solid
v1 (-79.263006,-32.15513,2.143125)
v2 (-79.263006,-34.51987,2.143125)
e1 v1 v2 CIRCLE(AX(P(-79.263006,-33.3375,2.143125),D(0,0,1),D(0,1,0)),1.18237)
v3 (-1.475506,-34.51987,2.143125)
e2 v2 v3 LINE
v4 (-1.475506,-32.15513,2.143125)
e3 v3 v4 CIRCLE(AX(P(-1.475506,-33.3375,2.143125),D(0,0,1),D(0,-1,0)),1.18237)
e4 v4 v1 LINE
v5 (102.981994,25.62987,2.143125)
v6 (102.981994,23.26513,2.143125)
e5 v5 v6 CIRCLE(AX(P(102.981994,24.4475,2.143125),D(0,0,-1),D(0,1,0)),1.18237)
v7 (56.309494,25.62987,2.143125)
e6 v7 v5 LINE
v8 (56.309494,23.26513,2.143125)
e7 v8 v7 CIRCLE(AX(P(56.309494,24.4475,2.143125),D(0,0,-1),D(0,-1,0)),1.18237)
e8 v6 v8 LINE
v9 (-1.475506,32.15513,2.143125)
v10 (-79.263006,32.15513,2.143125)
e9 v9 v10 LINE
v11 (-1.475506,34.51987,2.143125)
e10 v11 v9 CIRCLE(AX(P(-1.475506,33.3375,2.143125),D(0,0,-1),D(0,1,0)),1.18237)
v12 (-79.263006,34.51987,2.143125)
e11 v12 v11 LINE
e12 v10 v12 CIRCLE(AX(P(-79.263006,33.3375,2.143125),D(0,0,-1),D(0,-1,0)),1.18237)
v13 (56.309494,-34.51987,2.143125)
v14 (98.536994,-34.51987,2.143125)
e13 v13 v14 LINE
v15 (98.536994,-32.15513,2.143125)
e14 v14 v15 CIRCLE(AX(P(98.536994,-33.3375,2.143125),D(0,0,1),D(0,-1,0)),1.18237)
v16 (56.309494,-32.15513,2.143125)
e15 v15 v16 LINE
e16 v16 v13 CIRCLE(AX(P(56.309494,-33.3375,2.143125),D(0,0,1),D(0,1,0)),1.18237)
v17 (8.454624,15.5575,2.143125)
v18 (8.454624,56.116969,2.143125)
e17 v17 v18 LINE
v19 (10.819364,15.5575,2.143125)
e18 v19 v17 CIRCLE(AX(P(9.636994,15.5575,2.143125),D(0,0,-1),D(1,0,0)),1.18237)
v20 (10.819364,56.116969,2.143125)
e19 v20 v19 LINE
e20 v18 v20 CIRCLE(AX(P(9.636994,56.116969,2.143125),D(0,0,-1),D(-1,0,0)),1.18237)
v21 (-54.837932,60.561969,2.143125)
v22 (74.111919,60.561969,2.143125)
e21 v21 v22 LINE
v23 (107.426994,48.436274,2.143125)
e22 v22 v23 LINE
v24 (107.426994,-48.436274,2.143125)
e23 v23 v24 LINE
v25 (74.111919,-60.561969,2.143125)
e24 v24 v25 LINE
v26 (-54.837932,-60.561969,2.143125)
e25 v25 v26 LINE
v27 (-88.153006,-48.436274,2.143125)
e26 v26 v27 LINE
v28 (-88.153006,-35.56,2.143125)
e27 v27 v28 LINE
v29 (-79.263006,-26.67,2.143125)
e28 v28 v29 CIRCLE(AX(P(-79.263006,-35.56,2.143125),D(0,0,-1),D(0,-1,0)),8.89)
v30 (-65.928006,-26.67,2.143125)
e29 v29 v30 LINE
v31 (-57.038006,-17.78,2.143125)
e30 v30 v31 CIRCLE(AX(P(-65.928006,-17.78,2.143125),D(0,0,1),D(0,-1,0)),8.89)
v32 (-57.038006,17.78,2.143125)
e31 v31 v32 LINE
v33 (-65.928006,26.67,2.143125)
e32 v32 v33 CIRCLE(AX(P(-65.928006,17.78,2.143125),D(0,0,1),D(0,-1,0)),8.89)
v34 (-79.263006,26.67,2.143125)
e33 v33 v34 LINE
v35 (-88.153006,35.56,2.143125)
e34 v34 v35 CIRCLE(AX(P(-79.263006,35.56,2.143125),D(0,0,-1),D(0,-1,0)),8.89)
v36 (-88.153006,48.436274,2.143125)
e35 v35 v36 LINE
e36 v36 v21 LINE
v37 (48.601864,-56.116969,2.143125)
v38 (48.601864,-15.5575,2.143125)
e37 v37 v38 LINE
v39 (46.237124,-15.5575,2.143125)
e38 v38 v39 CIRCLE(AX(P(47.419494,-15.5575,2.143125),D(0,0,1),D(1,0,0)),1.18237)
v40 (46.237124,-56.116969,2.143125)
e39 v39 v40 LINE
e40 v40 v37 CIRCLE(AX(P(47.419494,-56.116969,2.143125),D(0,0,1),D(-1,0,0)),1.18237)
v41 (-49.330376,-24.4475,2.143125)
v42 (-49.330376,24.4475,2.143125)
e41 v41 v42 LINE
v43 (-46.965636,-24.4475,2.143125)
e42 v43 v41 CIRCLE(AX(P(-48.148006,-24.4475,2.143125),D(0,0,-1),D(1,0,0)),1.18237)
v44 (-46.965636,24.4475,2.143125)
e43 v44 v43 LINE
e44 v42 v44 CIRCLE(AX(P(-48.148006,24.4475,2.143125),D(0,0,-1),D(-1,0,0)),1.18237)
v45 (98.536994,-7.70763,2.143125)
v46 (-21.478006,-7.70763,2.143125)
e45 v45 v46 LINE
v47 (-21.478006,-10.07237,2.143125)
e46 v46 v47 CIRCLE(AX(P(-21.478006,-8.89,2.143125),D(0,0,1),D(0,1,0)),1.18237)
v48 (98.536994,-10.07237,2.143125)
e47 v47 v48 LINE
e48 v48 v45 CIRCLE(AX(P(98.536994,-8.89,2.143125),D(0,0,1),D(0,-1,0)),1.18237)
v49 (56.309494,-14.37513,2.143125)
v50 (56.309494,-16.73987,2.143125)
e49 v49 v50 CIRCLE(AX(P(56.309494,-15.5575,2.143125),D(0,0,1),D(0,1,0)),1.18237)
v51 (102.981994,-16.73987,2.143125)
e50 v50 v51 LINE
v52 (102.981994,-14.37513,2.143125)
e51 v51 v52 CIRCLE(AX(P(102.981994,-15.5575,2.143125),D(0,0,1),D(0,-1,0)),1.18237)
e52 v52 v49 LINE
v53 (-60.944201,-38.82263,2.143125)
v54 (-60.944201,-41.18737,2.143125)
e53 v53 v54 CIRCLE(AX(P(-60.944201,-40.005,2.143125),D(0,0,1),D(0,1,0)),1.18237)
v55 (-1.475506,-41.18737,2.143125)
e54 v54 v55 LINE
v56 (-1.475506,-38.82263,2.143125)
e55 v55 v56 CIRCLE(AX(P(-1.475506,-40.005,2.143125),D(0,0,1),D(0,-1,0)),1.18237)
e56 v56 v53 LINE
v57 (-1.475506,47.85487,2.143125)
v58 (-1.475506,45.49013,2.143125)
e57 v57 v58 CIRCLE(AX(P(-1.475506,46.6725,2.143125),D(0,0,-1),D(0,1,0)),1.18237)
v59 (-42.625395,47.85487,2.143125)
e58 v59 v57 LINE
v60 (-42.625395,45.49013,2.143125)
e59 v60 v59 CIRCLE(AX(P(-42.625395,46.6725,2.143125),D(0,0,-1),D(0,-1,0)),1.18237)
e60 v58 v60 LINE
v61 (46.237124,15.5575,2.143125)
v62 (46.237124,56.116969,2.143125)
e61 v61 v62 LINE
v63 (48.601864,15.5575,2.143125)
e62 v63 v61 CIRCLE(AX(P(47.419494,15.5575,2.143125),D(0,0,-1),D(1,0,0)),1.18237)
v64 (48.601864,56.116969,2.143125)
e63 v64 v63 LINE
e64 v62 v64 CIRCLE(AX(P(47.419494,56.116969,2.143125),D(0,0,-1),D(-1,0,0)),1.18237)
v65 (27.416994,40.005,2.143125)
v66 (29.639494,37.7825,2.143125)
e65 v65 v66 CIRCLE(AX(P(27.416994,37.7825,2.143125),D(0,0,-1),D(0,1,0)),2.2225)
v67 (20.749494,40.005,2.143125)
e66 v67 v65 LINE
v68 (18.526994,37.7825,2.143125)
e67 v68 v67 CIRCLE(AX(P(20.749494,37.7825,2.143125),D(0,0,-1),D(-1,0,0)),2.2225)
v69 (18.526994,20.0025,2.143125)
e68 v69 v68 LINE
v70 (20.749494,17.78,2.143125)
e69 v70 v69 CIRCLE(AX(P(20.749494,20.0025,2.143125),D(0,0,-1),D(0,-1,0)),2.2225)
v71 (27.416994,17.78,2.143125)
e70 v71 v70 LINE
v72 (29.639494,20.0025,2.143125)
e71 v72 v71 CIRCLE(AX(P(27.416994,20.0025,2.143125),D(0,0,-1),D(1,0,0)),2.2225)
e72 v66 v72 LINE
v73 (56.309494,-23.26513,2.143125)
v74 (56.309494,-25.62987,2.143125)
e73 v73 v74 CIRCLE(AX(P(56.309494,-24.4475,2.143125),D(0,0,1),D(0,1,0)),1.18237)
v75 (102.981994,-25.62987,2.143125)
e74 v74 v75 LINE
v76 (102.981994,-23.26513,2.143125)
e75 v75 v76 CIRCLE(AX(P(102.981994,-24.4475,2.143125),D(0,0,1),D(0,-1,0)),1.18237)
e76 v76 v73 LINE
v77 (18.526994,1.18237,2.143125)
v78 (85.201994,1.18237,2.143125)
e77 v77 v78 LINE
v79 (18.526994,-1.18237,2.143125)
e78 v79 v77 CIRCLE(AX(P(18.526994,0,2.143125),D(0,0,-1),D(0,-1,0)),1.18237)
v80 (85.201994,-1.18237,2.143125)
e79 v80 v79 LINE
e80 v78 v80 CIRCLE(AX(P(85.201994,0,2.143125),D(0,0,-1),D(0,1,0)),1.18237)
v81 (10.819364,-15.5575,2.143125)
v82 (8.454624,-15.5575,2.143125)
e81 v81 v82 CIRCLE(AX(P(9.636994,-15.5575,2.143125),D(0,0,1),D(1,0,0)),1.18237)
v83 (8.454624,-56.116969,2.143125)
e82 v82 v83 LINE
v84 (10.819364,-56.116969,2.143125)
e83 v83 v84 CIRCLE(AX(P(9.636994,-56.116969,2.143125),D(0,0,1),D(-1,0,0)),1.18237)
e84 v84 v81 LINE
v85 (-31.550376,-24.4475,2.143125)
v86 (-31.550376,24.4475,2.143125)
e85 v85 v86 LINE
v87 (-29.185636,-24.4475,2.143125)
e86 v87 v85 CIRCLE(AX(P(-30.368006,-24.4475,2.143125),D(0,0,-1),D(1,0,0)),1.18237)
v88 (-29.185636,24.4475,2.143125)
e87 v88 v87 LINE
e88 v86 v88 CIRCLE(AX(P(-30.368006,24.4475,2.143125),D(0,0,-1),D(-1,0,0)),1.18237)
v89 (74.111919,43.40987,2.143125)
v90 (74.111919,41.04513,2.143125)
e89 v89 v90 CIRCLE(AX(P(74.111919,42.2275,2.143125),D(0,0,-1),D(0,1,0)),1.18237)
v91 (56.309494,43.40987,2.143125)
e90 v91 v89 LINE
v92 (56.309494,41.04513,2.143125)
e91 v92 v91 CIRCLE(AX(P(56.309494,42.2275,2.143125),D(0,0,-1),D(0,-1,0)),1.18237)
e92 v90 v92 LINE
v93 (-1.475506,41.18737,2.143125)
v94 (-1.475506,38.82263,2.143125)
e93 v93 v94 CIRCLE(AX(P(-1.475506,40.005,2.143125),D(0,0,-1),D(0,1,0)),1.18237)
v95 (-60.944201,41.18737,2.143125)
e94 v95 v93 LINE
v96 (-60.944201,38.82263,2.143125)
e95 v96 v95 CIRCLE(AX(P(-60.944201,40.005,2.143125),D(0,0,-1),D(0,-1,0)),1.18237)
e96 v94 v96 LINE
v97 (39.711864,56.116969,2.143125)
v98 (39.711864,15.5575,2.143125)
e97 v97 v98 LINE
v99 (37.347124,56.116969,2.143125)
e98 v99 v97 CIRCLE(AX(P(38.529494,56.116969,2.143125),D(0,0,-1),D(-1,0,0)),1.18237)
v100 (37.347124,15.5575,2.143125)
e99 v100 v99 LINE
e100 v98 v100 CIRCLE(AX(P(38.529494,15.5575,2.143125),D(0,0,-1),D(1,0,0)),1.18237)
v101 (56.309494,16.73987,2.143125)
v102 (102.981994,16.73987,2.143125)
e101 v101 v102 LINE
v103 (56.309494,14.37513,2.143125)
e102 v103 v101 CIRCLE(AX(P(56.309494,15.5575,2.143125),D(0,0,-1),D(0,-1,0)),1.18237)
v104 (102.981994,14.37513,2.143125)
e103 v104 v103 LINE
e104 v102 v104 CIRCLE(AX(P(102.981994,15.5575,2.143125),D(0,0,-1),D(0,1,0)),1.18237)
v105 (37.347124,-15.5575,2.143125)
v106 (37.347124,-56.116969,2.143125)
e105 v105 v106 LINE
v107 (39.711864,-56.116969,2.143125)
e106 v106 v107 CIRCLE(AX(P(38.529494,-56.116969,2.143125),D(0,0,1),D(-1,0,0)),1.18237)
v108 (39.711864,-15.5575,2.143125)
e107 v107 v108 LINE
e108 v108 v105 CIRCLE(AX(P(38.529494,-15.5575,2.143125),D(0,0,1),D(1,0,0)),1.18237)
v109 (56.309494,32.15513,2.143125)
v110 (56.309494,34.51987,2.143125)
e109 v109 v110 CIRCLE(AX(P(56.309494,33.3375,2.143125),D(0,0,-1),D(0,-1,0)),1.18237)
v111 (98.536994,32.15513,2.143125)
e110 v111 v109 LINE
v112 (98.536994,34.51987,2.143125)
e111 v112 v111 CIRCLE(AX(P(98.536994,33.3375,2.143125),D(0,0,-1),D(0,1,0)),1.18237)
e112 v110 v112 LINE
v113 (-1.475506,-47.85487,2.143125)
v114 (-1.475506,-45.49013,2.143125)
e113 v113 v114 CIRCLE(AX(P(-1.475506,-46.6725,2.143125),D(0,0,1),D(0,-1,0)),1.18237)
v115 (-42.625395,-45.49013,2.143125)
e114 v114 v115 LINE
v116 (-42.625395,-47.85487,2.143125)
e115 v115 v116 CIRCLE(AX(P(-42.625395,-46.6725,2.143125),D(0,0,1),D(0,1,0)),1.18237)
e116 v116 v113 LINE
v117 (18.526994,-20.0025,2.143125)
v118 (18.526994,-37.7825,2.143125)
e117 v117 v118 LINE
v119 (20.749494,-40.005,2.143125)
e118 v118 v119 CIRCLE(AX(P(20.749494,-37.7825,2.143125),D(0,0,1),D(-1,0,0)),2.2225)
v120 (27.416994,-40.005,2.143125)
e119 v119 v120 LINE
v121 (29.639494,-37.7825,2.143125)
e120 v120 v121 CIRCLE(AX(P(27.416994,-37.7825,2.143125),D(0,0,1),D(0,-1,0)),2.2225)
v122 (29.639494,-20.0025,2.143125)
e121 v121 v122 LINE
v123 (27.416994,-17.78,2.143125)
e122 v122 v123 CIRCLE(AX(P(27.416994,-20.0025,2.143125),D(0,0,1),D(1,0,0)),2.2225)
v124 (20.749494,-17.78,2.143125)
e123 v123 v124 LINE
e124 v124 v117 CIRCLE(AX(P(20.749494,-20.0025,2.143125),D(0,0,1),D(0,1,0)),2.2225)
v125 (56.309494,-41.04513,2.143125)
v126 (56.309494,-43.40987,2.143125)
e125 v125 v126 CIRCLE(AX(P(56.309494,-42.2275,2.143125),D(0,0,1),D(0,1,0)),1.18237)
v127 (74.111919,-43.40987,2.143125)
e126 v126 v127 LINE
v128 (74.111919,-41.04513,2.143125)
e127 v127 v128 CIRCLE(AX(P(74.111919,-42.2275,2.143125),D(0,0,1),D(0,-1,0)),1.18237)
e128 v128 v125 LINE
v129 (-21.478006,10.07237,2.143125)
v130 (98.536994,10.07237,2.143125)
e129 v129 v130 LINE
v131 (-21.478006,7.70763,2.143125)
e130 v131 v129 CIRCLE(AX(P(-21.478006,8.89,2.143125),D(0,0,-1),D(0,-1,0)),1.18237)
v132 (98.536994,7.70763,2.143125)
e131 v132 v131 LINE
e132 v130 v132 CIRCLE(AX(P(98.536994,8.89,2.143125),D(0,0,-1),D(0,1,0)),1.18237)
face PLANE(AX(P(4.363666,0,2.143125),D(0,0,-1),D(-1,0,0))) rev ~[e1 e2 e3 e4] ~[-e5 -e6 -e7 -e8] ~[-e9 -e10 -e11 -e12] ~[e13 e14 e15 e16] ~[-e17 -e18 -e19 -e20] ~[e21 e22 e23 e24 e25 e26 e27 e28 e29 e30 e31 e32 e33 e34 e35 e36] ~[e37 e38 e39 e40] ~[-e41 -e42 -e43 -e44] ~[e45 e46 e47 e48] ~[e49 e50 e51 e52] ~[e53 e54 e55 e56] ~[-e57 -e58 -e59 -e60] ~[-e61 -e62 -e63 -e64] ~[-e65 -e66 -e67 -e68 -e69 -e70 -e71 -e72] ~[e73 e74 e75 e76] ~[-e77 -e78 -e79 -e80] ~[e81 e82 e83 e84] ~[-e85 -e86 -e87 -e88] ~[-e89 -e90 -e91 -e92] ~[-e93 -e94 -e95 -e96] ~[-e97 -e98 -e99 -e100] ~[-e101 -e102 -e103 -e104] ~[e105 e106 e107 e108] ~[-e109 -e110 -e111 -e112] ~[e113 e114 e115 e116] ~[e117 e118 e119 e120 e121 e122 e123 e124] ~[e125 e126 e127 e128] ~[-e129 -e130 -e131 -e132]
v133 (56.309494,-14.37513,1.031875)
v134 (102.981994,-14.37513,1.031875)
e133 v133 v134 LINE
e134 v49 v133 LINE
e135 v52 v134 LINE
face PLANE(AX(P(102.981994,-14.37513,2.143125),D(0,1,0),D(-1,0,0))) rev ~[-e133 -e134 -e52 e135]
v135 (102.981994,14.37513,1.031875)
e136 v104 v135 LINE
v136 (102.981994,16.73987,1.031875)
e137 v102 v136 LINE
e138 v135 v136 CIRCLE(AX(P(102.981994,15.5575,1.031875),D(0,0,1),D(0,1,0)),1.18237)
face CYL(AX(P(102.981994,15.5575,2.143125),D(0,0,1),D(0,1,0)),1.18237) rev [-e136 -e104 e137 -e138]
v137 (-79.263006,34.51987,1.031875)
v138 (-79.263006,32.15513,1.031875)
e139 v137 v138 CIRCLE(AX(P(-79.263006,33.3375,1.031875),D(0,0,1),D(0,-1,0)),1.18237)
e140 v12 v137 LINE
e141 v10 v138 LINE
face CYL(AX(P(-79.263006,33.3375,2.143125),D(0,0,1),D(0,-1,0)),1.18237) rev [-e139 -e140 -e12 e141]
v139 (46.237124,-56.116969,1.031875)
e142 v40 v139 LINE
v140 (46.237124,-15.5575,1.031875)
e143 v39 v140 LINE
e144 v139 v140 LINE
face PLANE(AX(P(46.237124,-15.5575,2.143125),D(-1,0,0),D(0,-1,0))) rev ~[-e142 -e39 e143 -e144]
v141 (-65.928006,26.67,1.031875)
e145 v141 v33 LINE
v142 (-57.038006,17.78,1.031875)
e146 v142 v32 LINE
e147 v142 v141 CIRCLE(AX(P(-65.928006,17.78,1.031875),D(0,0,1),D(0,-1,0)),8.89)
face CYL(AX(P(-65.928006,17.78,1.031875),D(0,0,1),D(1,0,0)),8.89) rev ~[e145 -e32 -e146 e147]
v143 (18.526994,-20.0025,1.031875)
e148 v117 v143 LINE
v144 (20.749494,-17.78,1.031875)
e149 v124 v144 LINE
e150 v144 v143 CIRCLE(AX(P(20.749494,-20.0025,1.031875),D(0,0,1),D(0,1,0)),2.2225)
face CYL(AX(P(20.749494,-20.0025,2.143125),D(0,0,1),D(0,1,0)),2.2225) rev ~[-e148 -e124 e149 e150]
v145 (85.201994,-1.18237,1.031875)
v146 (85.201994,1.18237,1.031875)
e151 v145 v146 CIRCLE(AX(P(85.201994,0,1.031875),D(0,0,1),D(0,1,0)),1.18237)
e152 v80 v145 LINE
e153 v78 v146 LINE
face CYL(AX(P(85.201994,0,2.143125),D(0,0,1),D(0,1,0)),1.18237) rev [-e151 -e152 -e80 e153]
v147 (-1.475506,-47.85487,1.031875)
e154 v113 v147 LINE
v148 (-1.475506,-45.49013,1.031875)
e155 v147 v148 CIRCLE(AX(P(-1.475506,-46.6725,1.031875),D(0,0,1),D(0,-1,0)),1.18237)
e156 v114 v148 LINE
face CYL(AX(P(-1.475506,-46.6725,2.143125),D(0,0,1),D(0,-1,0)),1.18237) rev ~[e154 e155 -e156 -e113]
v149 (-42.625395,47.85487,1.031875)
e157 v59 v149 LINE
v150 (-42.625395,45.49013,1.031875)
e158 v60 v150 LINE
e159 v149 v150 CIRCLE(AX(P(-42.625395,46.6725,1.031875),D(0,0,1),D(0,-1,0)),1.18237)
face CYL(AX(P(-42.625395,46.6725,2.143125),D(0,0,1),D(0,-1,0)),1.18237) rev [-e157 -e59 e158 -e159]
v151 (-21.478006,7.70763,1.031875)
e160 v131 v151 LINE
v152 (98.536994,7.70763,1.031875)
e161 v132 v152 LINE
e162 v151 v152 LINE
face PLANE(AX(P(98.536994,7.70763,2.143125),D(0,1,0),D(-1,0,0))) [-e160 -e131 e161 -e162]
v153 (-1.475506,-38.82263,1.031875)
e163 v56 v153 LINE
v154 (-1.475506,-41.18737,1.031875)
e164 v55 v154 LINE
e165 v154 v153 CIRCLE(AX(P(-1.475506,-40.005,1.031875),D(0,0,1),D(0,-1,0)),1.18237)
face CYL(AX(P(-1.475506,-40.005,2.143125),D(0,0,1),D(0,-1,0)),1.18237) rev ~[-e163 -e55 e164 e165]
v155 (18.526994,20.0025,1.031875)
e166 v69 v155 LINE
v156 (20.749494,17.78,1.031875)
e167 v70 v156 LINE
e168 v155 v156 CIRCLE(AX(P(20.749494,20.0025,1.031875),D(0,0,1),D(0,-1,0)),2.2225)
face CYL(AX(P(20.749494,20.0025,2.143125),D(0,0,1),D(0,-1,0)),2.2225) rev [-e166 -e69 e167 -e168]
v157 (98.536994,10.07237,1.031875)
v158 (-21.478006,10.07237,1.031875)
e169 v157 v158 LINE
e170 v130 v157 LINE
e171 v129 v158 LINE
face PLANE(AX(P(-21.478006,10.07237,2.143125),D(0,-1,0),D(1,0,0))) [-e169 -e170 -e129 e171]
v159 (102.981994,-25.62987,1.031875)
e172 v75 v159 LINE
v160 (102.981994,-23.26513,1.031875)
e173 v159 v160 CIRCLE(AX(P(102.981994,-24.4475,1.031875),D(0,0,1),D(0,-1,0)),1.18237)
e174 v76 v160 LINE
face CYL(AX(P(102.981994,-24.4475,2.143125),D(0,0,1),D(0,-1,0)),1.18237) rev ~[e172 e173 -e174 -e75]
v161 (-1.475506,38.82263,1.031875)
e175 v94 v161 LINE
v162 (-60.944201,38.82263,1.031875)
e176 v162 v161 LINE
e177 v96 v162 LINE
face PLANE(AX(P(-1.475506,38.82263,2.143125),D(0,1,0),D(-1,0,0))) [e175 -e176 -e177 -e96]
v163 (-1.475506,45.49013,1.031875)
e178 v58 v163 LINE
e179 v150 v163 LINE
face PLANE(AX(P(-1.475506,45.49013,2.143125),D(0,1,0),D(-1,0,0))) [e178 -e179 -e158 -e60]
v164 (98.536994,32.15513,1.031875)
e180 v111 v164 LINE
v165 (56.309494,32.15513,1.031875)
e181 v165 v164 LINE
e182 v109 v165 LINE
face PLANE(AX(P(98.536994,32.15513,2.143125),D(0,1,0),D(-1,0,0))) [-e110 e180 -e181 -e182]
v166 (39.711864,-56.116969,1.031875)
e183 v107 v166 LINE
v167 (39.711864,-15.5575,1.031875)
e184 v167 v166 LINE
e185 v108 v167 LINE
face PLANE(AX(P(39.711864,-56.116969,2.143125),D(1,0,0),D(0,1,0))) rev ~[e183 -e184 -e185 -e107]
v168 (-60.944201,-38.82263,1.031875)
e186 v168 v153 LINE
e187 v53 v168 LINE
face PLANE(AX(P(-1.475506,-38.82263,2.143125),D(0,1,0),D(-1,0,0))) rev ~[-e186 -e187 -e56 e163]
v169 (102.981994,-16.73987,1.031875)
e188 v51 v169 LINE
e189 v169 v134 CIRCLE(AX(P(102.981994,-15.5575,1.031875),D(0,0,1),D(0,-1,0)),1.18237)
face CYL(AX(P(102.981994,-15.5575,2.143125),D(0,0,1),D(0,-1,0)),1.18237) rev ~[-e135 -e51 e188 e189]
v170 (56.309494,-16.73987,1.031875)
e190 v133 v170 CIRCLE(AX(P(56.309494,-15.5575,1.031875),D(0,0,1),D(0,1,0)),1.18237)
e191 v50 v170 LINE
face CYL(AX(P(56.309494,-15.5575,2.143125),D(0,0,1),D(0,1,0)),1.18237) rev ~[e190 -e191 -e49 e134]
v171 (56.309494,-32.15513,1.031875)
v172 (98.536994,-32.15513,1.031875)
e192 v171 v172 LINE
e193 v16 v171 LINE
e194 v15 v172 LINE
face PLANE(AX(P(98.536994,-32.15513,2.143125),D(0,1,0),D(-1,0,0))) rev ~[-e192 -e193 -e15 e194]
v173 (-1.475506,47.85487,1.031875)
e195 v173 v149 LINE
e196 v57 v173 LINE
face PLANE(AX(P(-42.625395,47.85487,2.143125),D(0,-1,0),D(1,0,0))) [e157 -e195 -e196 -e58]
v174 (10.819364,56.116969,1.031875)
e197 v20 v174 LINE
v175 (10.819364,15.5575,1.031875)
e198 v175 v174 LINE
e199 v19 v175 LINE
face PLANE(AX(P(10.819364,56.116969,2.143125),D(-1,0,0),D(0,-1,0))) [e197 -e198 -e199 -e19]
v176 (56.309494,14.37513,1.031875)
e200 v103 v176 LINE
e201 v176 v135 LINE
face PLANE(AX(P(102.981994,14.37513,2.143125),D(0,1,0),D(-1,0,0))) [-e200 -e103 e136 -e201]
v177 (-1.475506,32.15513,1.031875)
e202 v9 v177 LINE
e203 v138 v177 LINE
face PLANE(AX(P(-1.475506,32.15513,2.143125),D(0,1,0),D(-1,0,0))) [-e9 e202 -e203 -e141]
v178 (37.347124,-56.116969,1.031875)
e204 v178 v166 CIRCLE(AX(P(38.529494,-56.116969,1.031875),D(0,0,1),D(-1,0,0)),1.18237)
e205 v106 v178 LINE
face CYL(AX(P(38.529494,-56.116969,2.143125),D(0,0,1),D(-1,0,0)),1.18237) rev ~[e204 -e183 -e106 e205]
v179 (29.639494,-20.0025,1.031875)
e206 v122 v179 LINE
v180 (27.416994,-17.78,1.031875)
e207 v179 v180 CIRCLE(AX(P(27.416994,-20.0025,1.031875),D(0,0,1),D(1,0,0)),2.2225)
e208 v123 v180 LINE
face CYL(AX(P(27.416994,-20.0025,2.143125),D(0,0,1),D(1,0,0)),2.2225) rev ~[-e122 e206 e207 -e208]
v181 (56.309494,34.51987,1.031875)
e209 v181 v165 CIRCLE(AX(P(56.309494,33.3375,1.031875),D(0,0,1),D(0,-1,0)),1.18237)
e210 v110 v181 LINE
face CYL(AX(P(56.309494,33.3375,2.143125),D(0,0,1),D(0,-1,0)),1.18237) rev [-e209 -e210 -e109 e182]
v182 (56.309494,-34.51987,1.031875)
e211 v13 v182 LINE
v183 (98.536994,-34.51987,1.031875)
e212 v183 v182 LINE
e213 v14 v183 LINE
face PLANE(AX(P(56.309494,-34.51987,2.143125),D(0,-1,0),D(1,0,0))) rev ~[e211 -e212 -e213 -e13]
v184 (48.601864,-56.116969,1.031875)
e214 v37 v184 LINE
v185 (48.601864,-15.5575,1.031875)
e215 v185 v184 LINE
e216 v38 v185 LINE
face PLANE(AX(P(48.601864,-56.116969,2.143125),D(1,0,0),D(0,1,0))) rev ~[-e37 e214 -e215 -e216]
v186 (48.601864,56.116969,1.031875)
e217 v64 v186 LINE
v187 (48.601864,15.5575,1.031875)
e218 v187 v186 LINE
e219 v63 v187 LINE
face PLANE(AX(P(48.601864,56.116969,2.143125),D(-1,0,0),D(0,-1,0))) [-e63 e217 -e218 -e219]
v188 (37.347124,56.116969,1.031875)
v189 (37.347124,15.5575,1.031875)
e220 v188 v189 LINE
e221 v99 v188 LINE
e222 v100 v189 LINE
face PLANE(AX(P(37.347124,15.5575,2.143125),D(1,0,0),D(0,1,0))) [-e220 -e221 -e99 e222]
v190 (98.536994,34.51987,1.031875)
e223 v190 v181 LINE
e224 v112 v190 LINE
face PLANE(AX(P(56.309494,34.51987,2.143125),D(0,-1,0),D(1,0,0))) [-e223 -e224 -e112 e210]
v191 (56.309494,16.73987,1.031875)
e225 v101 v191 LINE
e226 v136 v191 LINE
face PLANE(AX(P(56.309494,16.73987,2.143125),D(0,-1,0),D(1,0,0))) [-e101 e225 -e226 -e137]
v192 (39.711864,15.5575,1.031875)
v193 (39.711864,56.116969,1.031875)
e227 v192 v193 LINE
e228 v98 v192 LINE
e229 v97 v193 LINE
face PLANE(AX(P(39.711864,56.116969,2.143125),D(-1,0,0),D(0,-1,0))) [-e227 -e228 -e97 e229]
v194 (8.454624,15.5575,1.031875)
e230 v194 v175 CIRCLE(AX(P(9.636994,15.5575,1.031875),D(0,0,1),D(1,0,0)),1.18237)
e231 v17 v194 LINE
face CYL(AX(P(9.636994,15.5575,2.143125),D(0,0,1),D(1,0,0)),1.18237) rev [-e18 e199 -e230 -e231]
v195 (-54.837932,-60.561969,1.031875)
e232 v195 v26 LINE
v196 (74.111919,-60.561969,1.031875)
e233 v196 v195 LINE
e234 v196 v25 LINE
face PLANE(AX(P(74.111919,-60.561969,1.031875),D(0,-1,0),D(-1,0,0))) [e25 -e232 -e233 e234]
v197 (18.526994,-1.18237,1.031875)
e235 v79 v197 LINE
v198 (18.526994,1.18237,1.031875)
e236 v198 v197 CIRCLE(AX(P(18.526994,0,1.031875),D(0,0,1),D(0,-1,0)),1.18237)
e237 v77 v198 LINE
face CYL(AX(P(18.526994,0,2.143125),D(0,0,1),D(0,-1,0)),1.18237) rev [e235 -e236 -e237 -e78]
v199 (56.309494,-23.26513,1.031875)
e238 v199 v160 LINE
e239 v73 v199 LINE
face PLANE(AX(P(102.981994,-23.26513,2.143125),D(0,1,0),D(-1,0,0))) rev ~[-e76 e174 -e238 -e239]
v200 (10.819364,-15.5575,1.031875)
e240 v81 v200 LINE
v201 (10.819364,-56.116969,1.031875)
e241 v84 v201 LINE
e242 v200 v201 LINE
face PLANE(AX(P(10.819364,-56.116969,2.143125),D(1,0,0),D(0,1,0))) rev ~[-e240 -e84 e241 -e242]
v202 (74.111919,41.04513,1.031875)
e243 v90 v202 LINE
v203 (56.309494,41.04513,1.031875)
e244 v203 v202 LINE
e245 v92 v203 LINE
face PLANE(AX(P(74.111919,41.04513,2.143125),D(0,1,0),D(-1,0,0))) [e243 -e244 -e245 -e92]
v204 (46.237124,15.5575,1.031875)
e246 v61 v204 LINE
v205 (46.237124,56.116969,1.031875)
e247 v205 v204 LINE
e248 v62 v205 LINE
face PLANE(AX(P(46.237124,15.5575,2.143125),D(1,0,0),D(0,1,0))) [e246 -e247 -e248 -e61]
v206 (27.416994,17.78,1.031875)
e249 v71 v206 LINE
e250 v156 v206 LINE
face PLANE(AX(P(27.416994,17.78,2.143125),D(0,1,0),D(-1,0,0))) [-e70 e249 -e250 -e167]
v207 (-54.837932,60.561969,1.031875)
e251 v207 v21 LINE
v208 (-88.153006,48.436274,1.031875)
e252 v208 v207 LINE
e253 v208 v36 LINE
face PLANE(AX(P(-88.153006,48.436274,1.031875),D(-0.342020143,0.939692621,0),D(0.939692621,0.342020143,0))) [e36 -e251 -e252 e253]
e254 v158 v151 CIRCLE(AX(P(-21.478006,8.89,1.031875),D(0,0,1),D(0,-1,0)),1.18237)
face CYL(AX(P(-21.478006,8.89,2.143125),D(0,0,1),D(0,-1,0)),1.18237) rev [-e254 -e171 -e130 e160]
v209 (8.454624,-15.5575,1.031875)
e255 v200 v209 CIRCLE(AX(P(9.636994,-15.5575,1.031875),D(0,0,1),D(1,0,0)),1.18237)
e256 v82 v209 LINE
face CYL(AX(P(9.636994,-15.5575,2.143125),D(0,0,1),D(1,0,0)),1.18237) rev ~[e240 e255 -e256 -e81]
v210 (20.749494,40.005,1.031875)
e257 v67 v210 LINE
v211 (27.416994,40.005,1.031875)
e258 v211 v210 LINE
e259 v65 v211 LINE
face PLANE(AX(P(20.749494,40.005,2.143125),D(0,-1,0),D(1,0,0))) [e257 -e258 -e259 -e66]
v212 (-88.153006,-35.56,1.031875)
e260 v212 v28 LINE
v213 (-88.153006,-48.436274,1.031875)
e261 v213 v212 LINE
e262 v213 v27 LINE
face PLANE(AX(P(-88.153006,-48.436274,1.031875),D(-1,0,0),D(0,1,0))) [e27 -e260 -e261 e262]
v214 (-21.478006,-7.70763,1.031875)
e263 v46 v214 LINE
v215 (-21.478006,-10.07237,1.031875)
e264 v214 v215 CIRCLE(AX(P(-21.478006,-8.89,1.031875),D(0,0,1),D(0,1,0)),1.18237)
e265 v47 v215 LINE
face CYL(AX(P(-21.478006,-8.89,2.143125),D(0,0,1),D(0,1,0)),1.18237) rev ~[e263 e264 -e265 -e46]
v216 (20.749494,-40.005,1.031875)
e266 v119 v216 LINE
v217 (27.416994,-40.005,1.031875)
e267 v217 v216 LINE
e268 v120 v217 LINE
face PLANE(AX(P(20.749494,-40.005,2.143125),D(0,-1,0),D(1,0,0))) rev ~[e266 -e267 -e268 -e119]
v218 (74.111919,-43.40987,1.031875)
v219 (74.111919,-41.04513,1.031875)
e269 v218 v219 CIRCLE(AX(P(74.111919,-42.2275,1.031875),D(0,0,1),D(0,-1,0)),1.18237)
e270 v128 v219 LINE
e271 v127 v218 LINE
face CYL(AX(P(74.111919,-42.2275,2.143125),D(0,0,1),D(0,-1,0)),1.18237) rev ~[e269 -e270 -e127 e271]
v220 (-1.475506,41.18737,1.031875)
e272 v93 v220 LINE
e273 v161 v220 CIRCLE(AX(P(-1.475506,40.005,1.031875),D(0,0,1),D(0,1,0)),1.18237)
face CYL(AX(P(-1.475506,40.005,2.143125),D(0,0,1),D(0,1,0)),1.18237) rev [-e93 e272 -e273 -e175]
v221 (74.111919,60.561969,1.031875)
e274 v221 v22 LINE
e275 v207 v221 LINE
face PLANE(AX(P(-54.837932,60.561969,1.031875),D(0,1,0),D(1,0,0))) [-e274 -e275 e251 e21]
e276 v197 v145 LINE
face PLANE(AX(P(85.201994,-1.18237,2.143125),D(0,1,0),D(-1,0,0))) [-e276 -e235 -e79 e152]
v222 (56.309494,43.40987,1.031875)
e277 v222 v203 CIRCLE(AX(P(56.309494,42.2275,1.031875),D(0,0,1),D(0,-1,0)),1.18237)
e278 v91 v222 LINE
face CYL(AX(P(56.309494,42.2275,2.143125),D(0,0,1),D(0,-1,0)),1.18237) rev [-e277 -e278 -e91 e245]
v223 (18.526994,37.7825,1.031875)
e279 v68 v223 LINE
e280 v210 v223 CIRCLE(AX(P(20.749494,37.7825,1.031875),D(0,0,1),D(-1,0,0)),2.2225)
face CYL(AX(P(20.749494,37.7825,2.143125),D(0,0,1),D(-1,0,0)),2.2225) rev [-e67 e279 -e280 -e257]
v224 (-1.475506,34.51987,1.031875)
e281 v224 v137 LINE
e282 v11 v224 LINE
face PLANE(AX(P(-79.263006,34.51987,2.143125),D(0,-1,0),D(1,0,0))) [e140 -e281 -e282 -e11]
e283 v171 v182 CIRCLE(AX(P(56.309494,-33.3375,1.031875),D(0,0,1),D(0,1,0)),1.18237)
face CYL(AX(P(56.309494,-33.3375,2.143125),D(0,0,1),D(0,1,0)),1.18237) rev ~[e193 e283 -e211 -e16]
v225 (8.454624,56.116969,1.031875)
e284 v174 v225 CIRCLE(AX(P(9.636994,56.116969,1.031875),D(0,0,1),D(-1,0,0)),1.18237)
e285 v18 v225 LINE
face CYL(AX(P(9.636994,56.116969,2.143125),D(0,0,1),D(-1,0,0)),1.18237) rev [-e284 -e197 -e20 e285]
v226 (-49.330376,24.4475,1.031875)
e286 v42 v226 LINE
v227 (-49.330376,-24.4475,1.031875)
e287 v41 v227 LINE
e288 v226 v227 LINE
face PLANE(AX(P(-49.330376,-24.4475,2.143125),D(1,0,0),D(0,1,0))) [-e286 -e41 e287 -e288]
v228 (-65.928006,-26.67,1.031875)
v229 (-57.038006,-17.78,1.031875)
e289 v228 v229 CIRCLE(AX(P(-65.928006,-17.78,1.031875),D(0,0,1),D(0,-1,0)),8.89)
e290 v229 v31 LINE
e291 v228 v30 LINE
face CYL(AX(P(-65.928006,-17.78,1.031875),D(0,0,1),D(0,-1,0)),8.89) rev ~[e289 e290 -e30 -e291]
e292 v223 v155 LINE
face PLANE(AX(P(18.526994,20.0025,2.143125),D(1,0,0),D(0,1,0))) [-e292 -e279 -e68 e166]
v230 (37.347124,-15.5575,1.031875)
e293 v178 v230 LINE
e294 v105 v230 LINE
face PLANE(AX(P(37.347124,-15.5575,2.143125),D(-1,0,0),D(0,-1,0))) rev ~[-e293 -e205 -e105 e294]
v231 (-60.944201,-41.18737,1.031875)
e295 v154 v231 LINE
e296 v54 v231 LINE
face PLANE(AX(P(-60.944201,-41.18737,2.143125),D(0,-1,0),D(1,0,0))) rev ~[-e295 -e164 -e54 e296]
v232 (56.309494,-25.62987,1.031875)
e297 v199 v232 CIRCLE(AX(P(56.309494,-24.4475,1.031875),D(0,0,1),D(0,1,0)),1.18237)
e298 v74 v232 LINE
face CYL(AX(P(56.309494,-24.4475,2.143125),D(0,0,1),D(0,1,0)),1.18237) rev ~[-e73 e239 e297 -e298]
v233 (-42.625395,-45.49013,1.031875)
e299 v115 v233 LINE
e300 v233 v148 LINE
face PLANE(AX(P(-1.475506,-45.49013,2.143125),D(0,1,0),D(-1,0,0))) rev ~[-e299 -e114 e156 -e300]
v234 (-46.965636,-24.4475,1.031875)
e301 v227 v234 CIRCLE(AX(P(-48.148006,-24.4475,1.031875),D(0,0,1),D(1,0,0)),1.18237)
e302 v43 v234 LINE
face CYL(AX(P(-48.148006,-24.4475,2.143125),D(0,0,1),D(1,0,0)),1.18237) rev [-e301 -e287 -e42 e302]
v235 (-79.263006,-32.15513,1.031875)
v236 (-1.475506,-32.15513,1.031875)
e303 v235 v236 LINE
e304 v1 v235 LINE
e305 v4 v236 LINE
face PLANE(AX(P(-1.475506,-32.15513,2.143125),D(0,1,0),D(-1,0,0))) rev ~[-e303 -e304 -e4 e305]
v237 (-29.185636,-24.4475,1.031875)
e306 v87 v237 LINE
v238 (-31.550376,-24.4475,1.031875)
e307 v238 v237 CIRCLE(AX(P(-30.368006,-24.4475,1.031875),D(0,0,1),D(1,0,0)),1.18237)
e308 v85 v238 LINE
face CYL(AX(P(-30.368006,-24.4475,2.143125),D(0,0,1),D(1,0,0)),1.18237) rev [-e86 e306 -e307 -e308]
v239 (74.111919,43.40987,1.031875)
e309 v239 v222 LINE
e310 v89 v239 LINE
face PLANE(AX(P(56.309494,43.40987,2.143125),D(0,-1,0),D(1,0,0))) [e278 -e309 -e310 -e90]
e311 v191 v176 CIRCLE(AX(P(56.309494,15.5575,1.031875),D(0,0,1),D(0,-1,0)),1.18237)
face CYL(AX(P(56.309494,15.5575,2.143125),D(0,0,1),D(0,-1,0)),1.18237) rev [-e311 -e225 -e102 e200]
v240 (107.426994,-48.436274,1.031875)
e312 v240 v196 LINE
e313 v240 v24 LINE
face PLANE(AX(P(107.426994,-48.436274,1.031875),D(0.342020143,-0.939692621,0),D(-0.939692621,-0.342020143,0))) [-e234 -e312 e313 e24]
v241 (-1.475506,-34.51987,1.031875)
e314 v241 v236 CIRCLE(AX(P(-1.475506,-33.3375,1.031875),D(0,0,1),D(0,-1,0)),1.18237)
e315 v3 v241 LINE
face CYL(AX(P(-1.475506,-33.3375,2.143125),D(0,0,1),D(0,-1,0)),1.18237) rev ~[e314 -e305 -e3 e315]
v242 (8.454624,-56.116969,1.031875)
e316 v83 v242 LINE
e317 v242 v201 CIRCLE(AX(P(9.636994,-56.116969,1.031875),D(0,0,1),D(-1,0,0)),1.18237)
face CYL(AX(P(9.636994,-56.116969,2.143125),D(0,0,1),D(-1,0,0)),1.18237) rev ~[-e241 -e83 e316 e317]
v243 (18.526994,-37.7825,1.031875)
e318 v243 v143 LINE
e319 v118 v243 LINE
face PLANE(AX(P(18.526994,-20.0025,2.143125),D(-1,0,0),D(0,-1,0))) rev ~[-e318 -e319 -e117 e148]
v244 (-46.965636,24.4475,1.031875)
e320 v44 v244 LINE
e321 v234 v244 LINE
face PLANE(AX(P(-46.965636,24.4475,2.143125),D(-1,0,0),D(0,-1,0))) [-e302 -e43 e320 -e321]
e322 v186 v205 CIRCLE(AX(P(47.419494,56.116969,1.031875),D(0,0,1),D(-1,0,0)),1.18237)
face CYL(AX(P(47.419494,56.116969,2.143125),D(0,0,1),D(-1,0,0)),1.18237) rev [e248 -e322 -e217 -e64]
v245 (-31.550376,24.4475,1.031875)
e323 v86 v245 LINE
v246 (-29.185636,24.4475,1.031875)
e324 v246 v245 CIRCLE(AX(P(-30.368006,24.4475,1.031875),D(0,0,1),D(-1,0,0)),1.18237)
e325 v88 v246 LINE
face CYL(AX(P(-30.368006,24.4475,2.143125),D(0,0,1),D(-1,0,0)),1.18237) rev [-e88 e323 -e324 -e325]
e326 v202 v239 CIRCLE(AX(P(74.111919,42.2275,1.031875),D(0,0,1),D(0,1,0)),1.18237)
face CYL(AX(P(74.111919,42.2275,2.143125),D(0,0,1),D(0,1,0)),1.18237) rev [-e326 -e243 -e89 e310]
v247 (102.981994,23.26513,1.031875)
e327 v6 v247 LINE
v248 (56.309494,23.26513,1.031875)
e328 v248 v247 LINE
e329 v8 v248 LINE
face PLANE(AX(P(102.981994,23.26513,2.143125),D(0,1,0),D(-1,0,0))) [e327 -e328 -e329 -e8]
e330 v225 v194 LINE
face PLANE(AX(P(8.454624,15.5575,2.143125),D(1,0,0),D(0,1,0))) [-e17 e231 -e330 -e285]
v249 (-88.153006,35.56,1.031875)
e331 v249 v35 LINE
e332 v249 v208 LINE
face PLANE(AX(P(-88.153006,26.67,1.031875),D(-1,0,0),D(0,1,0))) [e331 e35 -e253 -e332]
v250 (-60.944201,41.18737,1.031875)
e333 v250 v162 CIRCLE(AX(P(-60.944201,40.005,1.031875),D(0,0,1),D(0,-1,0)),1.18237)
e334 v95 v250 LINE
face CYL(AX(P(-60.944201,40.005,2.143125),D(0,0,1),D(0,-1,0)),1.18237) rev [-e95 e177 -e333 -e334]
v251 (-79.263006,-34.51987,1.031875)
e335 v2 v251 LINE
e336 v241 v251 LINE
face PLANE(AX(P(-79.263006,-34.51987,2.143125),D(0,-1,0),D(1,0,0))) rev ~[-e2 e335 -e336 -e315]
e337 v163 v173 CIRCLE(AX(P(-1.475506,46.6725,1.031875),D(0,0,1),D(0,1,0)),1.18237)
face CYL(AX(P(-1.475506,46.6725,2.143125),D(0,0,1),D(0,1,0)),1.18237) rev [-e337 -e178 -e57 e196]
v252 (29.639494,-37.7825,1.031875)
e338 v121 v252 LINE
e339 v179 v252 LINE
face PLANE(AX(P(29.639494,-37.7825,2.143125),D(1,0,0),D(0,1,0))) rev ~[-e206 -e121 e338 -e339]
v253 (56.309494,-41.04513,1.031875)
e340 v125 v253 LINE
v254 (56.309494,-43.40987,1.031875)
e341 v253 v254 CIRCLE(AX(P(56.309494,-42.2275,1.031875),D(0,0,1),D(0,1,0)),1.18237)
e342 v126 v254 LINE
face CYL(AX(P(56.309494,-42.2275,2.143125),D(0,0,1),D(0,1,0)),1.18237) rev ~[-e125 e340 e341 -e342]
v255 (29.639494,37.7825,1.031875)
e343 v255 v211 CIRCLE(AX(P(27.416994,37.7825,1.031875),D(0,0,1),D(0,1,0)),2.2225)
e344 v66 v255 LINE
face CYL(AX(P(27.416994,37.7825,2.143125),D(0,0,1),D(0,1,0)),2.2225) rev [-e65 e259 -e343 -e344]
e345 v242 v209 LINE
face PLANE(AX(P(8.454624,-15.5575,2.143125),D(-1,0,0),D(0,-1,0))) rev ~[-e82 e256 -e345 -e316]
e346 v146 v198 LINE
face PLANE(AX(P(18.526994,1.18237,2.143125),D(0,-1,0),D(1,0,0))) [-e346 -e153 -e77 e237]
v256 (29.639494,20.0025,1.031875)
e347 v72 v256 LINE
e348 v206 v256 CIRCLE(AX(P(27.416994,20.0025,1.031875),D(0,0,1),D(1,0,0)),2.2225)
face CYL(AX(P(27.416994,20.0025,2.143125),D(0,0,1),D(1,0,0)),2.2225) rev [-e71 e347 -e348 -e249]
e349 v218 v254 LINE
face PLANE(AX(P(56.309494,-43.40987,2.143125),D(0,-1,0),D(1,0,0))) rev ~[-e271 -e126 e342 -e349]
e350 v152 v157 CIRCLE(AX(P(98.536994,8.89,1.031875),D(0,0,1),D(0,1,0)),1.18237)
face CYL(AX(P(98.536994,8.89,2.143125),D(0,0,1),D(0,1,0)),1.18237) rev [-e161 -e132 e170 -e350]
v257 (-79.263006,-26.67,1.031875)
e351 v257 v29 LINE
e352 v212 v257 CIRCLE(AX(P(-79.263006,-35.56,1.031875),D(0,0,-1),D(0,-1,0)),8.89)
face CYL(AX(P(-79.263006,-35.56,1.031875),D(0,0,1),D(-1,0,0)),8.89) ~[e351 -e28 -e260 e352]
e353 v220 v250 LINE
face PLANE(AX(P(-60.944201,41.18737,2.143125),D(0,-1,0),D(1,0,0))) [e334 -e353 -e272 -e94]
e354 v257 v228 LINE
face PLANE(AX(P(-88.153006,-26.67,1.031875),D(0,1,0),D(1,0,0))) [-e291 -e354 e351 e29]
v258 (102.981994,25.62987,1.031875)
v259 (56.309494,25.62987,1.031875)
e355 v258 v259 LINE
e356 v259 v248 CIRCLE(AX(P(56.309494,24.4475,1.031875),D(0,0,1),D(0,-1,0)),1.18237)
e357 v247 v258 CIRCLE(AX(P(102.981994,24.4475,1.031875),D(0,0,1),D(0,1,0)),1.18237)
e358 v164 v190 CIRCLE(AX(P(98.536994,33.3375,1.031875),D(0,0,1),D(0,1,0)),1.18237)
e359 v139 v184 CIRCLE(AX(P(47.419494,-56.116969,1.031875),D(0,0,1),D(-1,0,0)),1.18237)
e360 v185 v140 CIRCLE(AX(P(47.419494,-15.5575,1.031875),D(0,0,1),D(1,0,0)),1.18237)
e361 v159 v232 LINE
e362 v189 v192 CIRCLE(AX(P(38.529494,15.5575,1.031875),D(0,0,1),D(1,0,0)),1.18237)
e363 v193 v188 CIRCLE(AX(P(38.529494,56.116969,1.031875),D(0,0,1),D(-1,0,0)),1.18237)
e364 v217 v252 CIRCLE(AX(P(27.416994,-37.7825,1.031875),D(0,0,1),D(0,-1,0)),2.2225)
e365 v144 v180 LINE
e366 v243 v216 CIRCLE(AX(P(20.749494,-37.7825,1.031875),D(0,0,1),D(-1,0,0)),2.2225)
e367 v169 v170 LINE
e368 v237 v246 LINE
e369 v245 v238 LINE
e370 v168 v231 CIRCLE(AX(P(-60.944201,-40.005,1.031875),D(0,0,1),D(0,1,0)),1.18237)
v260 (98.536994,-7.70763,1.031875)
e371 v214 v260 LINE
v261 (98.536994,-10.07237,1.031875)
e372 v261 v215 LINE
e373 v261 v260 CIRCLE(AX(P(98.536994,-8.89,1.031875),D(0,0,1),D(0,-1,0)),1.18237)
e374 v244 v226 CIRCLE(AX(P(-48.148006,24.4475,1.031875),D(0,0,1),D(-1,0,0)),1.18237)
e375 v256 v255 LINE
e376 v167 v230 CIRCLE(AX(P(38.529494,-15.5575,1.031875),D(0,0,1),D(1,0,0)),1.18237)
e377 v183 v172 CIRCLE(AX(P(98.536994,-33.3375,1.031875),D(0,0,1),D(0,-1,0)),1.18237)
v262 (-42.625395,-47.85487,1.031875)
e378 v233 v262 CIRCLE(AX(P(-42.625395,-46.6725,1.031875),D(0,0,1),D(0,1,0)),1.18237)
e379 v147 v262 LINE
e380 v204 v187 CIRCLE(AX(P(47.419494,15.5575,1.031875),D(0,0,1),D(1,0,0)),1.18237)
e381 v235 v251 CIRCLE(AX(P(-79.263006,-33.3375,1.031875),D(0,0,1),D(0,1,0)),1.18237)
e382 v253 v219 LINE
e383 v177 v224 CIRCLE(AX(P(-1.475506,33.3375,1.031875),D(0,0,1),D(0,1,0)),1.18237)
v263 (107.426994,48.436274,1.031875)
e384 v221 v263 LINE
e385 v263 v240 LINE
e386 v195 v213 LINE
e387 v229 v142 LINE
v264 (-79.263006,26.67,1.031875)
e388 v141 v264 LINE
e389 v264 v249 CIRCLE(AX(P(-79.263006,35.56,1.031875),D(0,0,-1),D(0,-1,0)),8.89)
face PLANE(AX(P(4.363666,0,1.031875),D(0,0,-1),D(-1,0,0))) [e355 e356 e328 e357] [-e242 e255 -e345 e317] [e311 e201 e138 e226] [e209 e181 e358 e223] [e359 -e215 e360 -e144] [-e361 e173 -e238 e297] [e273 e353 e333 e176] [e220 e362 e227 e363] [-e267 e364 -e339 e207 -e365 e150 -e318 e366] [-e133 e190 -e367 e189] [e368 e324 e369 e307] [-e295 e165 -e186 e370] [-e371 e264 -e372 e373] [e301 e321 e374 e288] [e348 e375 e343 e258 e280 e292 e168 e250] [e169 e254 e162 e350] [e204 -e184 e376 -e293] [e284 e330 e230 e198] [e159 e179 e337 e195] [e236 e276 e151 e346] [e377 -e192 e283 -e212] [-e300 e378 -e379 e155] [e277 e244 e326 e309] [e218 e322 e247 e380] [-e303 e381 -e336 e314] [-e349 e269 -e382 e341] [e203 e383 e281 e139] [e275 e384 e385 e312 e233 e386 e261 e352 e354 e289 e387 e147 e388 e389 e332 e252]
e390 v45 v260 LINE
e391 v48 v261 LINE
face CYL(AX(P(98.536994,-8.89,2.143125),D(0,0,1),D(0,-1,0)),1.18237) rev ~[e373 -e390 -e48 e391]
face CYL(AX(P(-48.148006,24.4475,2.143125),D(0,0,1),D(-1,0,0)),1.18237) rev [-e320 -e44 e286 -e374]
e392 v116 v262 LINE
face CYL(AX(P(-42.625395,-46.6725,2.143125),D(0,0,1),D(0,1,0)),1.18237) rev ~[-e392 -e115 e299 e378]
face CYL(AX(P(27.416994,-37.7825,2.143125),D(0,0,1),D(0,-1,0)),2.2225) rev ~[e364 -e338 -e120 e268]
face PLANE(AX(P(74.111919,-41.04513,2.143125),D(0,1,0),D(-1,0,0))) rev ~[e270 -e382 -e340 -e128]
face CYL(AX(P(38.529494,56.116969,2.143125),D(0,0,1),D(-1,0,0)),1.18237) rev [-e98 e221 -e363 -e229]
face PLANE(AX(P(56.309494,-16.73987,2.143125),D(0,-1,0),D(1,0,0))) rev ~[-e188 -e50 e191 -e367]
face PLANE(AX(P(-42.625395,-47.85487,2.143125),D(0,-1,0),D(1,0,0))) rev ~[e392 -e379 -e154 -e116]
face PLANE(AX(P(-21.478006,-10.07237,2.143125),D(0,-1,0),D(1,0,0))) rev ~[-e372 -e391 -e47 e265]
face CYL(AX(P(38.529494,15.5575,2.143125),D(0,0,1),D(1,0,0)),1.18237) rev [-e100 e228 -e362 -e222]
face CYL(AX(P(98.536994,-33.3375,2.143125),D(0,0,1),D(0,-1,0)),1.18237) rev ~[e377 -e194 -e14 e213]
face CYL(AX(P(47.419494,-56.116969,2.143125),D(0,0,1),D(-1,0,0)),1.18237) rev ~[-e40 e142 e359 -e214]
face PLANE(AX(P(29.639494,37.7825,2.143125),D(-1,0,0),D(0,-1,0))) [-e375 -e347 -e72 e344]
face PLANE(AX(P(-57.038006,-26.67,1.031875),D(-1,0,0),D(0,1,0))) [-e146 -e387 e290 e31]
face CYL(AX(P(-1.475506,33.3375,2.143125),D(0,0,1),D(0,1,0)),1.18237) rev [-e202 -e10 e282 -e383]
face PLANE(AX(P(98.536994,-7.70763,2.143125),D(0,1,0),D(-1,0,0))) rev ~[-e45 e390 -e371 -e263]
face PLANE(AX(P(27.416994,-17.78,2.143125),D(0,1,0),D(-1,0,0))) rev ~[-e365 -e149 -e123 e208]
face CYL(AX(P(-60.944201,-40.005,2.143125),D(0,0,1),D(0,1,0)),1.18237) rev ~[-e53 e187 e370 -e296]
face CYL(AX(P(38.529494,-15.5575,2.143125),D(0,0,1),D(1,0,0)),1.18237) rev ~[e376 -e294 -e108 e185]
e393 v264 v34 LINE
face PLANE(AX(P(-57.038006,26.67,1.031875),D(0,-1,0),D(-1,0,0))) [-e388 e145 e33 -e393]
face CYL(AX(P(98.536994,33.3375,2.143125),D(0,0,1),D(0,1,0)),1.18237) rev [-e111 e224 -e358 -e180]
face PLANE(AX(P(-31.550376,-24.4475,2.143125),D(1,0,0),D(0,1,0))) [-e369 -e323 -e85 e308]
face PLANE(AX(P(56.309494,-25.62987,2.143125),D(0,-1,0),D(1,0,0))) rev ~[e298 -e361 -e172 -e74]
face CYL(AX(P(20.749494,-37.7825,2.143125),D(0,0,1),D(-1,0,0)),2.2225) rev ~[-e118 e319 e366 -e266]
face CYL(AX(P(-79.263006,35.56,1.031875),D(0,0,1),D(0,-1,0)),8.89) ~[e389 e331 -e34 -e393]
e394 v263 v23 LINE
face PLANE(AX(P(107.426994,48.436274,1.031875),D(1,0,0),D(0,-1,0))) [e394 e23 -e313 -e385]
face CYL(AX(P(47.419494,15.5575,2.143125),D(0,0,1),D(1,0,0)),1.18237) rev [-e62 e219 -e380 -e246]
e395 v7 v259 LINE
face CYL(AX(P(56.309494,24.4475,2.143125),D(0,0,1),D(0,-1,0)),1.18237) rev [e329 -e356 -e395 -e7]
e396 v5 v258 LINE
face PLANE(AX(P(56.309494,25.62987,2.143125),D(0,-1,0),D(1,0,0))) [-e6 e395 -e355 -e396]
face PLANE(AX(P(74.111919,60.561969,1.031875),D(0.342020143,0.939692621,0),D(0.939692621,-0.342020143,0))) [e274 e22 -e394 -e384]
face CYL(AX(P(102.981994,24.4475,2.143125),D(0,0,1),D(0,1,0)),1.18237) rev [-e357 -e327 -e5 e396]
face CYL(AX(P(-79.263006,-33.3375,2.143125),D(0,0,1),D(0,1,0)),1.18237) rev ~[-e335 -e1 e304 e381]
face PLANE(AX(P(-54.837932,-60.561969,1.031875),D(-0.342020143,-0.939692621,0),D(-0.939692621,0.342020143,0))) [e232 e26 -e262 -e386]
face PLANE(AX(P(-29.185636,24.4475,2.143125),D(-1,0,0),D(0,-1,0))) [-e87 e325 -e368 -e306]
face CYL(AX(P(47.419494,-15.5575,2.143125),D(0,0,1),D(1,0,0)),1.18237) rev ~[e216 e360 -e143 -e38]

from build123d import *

# Parameters (mm, degrees)
BOSS_EXTRUDE1_DEPTH = 3.175
FILLET3_R           = 25.4
CUT_EXTRUDE3_DEPTH  = 4.175
SCALE1_SCALE        = 0.35


with BuildPart() as part:
    # Sketch1 → Boss-Extrude1 (new body)
    with BuildSketch(Plane.XY):
        Polygon((-279.4, 138.38935405), (-184.214073546, 173.034198), (184.214073546, 173.034198), (279.4, 138.38935405), (279.4, -138.38935405), (184.214073546, -173.034198), (-184.214073546, -173.034198), (-279.4, -138.38935405), (-279.4, -76.2), (-190.5, -76.2), (-190.5, 76.2), (-279.4, 76.2), align=None)
    extrude(amount=BOSS_EXTRUDE1_DEPTH)

    # Fillet3
    fillet3_edges = [part.edges().sort_by_distance(p)[0] for p in [
        (-279.4, -76.2, 1.5875),
        (-190.5, -76.2, 1.5875),
        (-190.5, 76.2, 1.5875),
        (-279.4, 76.2, 1.5875),
    ]]
    fillet(fillet3_edges, radius=FILLET3_R)

    # Sketch4 → Cut-Extrude3 (cut, through all)
    with BuildSketch(Plane.XY.offset(3.175)):
        with BuildLine():
            Line((-254, 98.6282), (-31.75, 98.6282))
            ThreePointArc((-31.75, 98.6282), (-28.3718, 95.25), (-31.75, 91.8718))
            Line((-31.75, 91.8718), (-254, 91.8718))
            ThreePointArc((-254, 91.8718), (-257.3782, 95.25), (-254, 98.6282))
        make_face()
        with BuildLine():
            Line((-201.660555159, 117.6782), (-31.75, 117.6782))
            ThreePointArc((-31.75, 117.6782), (-28.3718, 114.3), (-31.75, 110.9218))
            Line((-31.75, 110.9218), (-201.660555159, 110.9218))
            ThreePointArc((-201.660555159, 110.9218), (-205.038755159, 114.3), (-201.660555159, 117.6782))
        make_face()
        with BuildLine():
            Line((-149.321110319, 136.7282), (-31.75, 136.7282))
            ThreePointArc((-31.75, 136.7282), (-28.3718, 133.35), (-31.75, 129.9718))
            Line((-31.75, 129.9718), (-149.321110319, 129.9718))
            ThreePointArc((-149.321110319, 129.9718), (-152.699310319, 133.35), (-149.321110319, 136.7282))
        make_face()
        with BuildLine():
            Line((-161.7218, 69.85), (-161.7218, -69.85))
            ThreePointArc((-161.7218, -69.85), (-165.1, -73.2282), (-168.4782, -69.85))
            Line((-168.4782, -69.85), (-168.4782, 69.85))
            ThreePointArc((-168.4782, 69.85), (-165.1, 73.2282), (-161.7218, 69.85))
        make_face()
        with BuildLine():
            Line((-110.9218, 69.85), (-110.9218, -69.85))
            ThreePointArc((-110.9218, -69.85), (-114.3, -73.2282), (-117.6782, -69.85))
            Line((-117.6782, -69.85), (-117.6782, 69.85))
            ThreePointArc((-117.6782, 69.85), (-114.3, 73.2282), (-110.9218, 69.85))
        make_face()
        with BuildLine():
            Line((31.75, 114.3), (50.8, 114.3))
            ThreePointArc((50.8, 114.3), (55.290128061, 112.440128061), (57.15, 107.95))
            Line((57.15, 107.95), (57.15, 57.15))
            ThreePointArc((57.15, 57.15), (55.290128061, 52.659871939), (50.8, 50.8))
            Line((50.8, 50.8), (31.75, 50.8))
            ThreePointArc((31.75, 50.8), (27.259871939, 52.659871939), (25.4, 57.15))
            Line((25.4, 57.15), (25.4, 107.95))
            ThreePointArc((25.4, 107.95), (27.259871939, 112.440128061), (31.75, 114.3))
        make_face()
        with BuildLine():
            Line((3.3782, 160.334198), (3.3782, 44.45))
            ThreePointArc((3.3782, 44.45), (0, 41.0718), (-3.3782, 44.45))
            Line((-3.3782, 44.45), (-3.3782, 160.334198))
            ThreePointArc((-3.3782, 160.334198), (0, 163.712398), (3.3782, 160.334198))
        make_face()
        with BuildLine():
            Line((-88.9, 28.7782), (254, 28.7782))
            ThreePointArc((254, 28.7782), (257.3782, 25.4), (254, 22.0218))
            Line((254, 22.0218), (-88.9, 22.0218))
            ThreePointArc((-88.9, 22.0218), (-92.2782, 25.4), (-88.9, 28.7782))
        make_face()
        with BuildLine():
            Line((79.1718, 44.45), (79.1718, 160.334198))
            ThreePointArc((79.1718, 160.334198), (82.55, 163.712398), (85.9282, 160.334198))
            Line((85.9282, 160.334198), (85.9282, 44.45))
            ThreePointArc((85.9282, 44.45), (82.55, 41.0718), (79.1718, 44.45))
        make_face()
        with BuildLine():
            Line((111.3282, 160.334198), (111.3282, 44.45))
            ThreePointArc((111.3282, 44.45), (107.95, 41.0718), (104.5718, 44.45))
            Line((104.5718, 44.45), (104.5718, 160.334198))
            ThreePointArc((104.5718, 160.334198), (107.95, 163.712398), (111.3282, 160.334198))
        make_face()
        with BuildLine():
            Line((133.35, 124.0282), (184.214073546, 124.0282))
            ThreePointArc((184.214073546, 124.0282), (187.592273546, 120.65), (184.214073546, 117.2718))
            Line((184.214073546, 117.2718), (133.35, 117.2718))
            ThreePointArc((133.35, 117.2718), (129.9718, 120.65), (133.35, 124.0282))
        make_face()
        with BuildLine():
            Line((133.35, 98.6282), (254, 98.6282))
            ThreePointArc((254, 98.6282), (257.3782, 95.25), (254, 91.8718))
            Line((254, 91.8718), (133.35, 91.8718))
            ThreePointArc((133.35, 91.8718), (129.9718, 95.25), (133.35, 98.6282))
        make_face()
        with BuildLine():
            Line((133.35, 73.2282), (266.7, 73.2282))
            ThreePointArc((266.7, 73.2282), (270.0782, 69.85), (266.7, 66.4718))
            Line((266.7, 66.4718), (133.35, 66.4718))
            ThreePointArc((133.35, 66.4718), (129.9718, 69.85), (133.35, 73.2282))
        make_face()
        with BuildLine():
            Line((133.35, 47.8282), (266.7, 47.8282))
            ThreePointArc((266.7, 47.8282), (270.0782, 44.45), (266.7, 41.0718))
            Line((266.7, 41.0718), (133.35, 41.0718))
            ThreePointArc((133.35, 41.0718), (129.9718, 44.45), (133.35, 47.8282))
        make_face()
        with BuildLine():
            Line((-254, -98.6282), (-31.75, -98.6282))
            ThreePointArc((-31.75, -98.6282), (-28.3718, -95.25), (-31.75, -91.8718))
            Line((-31.75, -91.8718), (-254, -91.8718))
            ThreePointArc((-254, -91.8718), (-257.3782, -95.25), (-254, -98.6282))
        make_face()
        with BuildLine():
            Line((-201.660555159, -117.6782), (-31.75, -117.6782))
            ThreePointArc((-31.75, -117.6782), (-28.3718, -114.3), (-31.75, -110.9218))
            Line((-31.75, -110.9218), (-201.660555159, -110.9218))
            ThreePointArc((-201.660555159, -110.9218), (-205.038755159, -114.3), (-201.660555159, -117.6782))
        make_face()
        with BuildLine():
            Line((-149.321110319, -136.7282), (-31.75, -136.7282))
            ThreePointArc((-31.75, -136.7282), (-28.3718, -133.35), (-31.75, -129.9718))
            Line((-31.75, -129.9718), (-149.321110319, -129.9718))
            ThreePointArc((-149.321110319, -129.9718), (-152.699310319, -133.35), (-149.321110319, -136.7282))
        make_face()
        with BuildLine():
            Line((3.3782, -160.334198), (3.3782, -44.45))
            ThreePointArc((3.3782, -44.45), (0, -41.0718), (-3.3782, -44.45))
            Line((-3.3782, -44.45), (-3.3782, -160.334198))
            ThreePointArc((-3.3782, -160.334198), (0, -163.712398), (3.3782, -160.334198))
        make_face()
        with BuildLine():
            Line((-88.9, -28.7782), (254, -28.7782))
            ThreePointArc((254, -28.7782), (257.3782, -25.4), (254, -22.0218))
            Line((254, -22.0218), (-88.9, -22.0218))
            ThreePointArc((-88.9, -22.0218), (-92.2782, -25.4), (-88.9, -28.7782))
        make_face()
        with BuildLine():
            Line((79.1718, -44.45), (79.1718, -160.334198))
            ThreePointArc((79.1718, -160.334198), (82.55, -163.712398), (85.9282, -160.334198))
            Line((85.9282, -160.334198), (85.9282, -44.45))
            ThreePointArc((85.9282, -44.45), (82.55, -41.0718), (79.1718, -44.45))
        make_face()
        with BuildLine():
            Line((111.3282, -160.334198), (111.3282, -44.45))
            ThreePointArc((111.3282, -44.45), (107.95, -41.0718), (104.5718, -44.45))
            Line((104.5718, -44.45), (104.5718, -160.334198))
            ThreePointArc((104.5718, -160.334198), (107.95, -163.712398), (111.3282, -160.334198))
        make_face()
        with BuildLine():
            Line((133.35, -124.0282), (184.214073546, -124.0282))
            ThreePointArc((184.214073546, -124.0282), (187.592273546, -120.65), (184.214073546, -117.2718))
            Line((184.214073546, -117.2718), (133.35, -117.2718))
            ThreePointArc((133.35, -117.2718), (129.9718, -120.65), (133.35, -124.0282))
        make_face()
        with BuildLine():
            Line((133.35, -98.6282), (254, -98.6282))
            ThreePointArc((254, -98.6282), (257.3782, -95.25), (254, -91.8718))
            Line((254, -91.8718), (133.35, -91.8718))
            ThreePointArc((133.35, -91.8718), (129.9718, -95.25), (133.35, -98.6282))
        make_face()
        with BuildLine():
            Line((133.35, -73.2282), (266.7, -73.2282))
            ThreePointArc((266.7, -73.2282), (270.0782, -69.85), (266.7, -66.4718))
            Line((266.7, -66.4718), (133.35, -66.4718))
            ThreePointArc((133.35, -66.4718), (129.9718, -69.85), (133.35, -73.2282))
        make_face()
        with BuildLine():
            Line((133.35, -47.8282), (266.7, -47.8282))
            ThreePointArc((266.7, -47.8282), (270.0782, -44.45), (266.7, -41.0718))
            Line((266.7, -41.0718), (133.35, -41.0718))
            ThreePointArc((133.35, -41.0718), (129.9718, -44.45), (133.35, -47.8282))
        make_face()
        with BuildLine():
            Line((57.15, -107.95), (57.15, -57.15))
            ThreePointArc((57.15, -57.15), (55.290128061, -52.659871939), (50.8, -50.8))
            Line((50.8, -50.8), (31.75, -50.8))
            ThreePointArc((31.75, -50.8), (27.259871939, -52.659871939), (25.4, -57.15))
            Line((25.4, -57.15), (25.4, -107.95))
            ThreePointArc((25.4, -107.95), (27.259871939, -112.440128061), (31.75, -114.3))
            Line((31.75, -114.3), (50.8, -114.3))
            ThreePointArc((50.8, -114.3), (55.290128061, -112.440128061), (57.15, -107.95))
        make_face()
        with BuildLine():
            Line((25.4, 3.3782), (215.9, 3.3782))
            ThreePointArc((215.9, 3.3782), (219.2782, 0), (215.9, -3.3782))
            Line((215.9, -3.3782), (25.4, -3.3782))
            ThreePointArc((25.4, -3.3782), (22.0218, 0), (25.4, 3.3782))
        make_face()
    extrude(amount=-CUT_EXTRUDE3_DEPTH, mode=Mode.SUBTRACT)


with BuildPart() as part_1:
    # Scale1: scaled about (14.826143857, 0, 1.5875)
    add(part.part.scale(SCALE1_SCALE).moved(Location((9.636993507, 0, 1.031875))))


solid = part_1.part
